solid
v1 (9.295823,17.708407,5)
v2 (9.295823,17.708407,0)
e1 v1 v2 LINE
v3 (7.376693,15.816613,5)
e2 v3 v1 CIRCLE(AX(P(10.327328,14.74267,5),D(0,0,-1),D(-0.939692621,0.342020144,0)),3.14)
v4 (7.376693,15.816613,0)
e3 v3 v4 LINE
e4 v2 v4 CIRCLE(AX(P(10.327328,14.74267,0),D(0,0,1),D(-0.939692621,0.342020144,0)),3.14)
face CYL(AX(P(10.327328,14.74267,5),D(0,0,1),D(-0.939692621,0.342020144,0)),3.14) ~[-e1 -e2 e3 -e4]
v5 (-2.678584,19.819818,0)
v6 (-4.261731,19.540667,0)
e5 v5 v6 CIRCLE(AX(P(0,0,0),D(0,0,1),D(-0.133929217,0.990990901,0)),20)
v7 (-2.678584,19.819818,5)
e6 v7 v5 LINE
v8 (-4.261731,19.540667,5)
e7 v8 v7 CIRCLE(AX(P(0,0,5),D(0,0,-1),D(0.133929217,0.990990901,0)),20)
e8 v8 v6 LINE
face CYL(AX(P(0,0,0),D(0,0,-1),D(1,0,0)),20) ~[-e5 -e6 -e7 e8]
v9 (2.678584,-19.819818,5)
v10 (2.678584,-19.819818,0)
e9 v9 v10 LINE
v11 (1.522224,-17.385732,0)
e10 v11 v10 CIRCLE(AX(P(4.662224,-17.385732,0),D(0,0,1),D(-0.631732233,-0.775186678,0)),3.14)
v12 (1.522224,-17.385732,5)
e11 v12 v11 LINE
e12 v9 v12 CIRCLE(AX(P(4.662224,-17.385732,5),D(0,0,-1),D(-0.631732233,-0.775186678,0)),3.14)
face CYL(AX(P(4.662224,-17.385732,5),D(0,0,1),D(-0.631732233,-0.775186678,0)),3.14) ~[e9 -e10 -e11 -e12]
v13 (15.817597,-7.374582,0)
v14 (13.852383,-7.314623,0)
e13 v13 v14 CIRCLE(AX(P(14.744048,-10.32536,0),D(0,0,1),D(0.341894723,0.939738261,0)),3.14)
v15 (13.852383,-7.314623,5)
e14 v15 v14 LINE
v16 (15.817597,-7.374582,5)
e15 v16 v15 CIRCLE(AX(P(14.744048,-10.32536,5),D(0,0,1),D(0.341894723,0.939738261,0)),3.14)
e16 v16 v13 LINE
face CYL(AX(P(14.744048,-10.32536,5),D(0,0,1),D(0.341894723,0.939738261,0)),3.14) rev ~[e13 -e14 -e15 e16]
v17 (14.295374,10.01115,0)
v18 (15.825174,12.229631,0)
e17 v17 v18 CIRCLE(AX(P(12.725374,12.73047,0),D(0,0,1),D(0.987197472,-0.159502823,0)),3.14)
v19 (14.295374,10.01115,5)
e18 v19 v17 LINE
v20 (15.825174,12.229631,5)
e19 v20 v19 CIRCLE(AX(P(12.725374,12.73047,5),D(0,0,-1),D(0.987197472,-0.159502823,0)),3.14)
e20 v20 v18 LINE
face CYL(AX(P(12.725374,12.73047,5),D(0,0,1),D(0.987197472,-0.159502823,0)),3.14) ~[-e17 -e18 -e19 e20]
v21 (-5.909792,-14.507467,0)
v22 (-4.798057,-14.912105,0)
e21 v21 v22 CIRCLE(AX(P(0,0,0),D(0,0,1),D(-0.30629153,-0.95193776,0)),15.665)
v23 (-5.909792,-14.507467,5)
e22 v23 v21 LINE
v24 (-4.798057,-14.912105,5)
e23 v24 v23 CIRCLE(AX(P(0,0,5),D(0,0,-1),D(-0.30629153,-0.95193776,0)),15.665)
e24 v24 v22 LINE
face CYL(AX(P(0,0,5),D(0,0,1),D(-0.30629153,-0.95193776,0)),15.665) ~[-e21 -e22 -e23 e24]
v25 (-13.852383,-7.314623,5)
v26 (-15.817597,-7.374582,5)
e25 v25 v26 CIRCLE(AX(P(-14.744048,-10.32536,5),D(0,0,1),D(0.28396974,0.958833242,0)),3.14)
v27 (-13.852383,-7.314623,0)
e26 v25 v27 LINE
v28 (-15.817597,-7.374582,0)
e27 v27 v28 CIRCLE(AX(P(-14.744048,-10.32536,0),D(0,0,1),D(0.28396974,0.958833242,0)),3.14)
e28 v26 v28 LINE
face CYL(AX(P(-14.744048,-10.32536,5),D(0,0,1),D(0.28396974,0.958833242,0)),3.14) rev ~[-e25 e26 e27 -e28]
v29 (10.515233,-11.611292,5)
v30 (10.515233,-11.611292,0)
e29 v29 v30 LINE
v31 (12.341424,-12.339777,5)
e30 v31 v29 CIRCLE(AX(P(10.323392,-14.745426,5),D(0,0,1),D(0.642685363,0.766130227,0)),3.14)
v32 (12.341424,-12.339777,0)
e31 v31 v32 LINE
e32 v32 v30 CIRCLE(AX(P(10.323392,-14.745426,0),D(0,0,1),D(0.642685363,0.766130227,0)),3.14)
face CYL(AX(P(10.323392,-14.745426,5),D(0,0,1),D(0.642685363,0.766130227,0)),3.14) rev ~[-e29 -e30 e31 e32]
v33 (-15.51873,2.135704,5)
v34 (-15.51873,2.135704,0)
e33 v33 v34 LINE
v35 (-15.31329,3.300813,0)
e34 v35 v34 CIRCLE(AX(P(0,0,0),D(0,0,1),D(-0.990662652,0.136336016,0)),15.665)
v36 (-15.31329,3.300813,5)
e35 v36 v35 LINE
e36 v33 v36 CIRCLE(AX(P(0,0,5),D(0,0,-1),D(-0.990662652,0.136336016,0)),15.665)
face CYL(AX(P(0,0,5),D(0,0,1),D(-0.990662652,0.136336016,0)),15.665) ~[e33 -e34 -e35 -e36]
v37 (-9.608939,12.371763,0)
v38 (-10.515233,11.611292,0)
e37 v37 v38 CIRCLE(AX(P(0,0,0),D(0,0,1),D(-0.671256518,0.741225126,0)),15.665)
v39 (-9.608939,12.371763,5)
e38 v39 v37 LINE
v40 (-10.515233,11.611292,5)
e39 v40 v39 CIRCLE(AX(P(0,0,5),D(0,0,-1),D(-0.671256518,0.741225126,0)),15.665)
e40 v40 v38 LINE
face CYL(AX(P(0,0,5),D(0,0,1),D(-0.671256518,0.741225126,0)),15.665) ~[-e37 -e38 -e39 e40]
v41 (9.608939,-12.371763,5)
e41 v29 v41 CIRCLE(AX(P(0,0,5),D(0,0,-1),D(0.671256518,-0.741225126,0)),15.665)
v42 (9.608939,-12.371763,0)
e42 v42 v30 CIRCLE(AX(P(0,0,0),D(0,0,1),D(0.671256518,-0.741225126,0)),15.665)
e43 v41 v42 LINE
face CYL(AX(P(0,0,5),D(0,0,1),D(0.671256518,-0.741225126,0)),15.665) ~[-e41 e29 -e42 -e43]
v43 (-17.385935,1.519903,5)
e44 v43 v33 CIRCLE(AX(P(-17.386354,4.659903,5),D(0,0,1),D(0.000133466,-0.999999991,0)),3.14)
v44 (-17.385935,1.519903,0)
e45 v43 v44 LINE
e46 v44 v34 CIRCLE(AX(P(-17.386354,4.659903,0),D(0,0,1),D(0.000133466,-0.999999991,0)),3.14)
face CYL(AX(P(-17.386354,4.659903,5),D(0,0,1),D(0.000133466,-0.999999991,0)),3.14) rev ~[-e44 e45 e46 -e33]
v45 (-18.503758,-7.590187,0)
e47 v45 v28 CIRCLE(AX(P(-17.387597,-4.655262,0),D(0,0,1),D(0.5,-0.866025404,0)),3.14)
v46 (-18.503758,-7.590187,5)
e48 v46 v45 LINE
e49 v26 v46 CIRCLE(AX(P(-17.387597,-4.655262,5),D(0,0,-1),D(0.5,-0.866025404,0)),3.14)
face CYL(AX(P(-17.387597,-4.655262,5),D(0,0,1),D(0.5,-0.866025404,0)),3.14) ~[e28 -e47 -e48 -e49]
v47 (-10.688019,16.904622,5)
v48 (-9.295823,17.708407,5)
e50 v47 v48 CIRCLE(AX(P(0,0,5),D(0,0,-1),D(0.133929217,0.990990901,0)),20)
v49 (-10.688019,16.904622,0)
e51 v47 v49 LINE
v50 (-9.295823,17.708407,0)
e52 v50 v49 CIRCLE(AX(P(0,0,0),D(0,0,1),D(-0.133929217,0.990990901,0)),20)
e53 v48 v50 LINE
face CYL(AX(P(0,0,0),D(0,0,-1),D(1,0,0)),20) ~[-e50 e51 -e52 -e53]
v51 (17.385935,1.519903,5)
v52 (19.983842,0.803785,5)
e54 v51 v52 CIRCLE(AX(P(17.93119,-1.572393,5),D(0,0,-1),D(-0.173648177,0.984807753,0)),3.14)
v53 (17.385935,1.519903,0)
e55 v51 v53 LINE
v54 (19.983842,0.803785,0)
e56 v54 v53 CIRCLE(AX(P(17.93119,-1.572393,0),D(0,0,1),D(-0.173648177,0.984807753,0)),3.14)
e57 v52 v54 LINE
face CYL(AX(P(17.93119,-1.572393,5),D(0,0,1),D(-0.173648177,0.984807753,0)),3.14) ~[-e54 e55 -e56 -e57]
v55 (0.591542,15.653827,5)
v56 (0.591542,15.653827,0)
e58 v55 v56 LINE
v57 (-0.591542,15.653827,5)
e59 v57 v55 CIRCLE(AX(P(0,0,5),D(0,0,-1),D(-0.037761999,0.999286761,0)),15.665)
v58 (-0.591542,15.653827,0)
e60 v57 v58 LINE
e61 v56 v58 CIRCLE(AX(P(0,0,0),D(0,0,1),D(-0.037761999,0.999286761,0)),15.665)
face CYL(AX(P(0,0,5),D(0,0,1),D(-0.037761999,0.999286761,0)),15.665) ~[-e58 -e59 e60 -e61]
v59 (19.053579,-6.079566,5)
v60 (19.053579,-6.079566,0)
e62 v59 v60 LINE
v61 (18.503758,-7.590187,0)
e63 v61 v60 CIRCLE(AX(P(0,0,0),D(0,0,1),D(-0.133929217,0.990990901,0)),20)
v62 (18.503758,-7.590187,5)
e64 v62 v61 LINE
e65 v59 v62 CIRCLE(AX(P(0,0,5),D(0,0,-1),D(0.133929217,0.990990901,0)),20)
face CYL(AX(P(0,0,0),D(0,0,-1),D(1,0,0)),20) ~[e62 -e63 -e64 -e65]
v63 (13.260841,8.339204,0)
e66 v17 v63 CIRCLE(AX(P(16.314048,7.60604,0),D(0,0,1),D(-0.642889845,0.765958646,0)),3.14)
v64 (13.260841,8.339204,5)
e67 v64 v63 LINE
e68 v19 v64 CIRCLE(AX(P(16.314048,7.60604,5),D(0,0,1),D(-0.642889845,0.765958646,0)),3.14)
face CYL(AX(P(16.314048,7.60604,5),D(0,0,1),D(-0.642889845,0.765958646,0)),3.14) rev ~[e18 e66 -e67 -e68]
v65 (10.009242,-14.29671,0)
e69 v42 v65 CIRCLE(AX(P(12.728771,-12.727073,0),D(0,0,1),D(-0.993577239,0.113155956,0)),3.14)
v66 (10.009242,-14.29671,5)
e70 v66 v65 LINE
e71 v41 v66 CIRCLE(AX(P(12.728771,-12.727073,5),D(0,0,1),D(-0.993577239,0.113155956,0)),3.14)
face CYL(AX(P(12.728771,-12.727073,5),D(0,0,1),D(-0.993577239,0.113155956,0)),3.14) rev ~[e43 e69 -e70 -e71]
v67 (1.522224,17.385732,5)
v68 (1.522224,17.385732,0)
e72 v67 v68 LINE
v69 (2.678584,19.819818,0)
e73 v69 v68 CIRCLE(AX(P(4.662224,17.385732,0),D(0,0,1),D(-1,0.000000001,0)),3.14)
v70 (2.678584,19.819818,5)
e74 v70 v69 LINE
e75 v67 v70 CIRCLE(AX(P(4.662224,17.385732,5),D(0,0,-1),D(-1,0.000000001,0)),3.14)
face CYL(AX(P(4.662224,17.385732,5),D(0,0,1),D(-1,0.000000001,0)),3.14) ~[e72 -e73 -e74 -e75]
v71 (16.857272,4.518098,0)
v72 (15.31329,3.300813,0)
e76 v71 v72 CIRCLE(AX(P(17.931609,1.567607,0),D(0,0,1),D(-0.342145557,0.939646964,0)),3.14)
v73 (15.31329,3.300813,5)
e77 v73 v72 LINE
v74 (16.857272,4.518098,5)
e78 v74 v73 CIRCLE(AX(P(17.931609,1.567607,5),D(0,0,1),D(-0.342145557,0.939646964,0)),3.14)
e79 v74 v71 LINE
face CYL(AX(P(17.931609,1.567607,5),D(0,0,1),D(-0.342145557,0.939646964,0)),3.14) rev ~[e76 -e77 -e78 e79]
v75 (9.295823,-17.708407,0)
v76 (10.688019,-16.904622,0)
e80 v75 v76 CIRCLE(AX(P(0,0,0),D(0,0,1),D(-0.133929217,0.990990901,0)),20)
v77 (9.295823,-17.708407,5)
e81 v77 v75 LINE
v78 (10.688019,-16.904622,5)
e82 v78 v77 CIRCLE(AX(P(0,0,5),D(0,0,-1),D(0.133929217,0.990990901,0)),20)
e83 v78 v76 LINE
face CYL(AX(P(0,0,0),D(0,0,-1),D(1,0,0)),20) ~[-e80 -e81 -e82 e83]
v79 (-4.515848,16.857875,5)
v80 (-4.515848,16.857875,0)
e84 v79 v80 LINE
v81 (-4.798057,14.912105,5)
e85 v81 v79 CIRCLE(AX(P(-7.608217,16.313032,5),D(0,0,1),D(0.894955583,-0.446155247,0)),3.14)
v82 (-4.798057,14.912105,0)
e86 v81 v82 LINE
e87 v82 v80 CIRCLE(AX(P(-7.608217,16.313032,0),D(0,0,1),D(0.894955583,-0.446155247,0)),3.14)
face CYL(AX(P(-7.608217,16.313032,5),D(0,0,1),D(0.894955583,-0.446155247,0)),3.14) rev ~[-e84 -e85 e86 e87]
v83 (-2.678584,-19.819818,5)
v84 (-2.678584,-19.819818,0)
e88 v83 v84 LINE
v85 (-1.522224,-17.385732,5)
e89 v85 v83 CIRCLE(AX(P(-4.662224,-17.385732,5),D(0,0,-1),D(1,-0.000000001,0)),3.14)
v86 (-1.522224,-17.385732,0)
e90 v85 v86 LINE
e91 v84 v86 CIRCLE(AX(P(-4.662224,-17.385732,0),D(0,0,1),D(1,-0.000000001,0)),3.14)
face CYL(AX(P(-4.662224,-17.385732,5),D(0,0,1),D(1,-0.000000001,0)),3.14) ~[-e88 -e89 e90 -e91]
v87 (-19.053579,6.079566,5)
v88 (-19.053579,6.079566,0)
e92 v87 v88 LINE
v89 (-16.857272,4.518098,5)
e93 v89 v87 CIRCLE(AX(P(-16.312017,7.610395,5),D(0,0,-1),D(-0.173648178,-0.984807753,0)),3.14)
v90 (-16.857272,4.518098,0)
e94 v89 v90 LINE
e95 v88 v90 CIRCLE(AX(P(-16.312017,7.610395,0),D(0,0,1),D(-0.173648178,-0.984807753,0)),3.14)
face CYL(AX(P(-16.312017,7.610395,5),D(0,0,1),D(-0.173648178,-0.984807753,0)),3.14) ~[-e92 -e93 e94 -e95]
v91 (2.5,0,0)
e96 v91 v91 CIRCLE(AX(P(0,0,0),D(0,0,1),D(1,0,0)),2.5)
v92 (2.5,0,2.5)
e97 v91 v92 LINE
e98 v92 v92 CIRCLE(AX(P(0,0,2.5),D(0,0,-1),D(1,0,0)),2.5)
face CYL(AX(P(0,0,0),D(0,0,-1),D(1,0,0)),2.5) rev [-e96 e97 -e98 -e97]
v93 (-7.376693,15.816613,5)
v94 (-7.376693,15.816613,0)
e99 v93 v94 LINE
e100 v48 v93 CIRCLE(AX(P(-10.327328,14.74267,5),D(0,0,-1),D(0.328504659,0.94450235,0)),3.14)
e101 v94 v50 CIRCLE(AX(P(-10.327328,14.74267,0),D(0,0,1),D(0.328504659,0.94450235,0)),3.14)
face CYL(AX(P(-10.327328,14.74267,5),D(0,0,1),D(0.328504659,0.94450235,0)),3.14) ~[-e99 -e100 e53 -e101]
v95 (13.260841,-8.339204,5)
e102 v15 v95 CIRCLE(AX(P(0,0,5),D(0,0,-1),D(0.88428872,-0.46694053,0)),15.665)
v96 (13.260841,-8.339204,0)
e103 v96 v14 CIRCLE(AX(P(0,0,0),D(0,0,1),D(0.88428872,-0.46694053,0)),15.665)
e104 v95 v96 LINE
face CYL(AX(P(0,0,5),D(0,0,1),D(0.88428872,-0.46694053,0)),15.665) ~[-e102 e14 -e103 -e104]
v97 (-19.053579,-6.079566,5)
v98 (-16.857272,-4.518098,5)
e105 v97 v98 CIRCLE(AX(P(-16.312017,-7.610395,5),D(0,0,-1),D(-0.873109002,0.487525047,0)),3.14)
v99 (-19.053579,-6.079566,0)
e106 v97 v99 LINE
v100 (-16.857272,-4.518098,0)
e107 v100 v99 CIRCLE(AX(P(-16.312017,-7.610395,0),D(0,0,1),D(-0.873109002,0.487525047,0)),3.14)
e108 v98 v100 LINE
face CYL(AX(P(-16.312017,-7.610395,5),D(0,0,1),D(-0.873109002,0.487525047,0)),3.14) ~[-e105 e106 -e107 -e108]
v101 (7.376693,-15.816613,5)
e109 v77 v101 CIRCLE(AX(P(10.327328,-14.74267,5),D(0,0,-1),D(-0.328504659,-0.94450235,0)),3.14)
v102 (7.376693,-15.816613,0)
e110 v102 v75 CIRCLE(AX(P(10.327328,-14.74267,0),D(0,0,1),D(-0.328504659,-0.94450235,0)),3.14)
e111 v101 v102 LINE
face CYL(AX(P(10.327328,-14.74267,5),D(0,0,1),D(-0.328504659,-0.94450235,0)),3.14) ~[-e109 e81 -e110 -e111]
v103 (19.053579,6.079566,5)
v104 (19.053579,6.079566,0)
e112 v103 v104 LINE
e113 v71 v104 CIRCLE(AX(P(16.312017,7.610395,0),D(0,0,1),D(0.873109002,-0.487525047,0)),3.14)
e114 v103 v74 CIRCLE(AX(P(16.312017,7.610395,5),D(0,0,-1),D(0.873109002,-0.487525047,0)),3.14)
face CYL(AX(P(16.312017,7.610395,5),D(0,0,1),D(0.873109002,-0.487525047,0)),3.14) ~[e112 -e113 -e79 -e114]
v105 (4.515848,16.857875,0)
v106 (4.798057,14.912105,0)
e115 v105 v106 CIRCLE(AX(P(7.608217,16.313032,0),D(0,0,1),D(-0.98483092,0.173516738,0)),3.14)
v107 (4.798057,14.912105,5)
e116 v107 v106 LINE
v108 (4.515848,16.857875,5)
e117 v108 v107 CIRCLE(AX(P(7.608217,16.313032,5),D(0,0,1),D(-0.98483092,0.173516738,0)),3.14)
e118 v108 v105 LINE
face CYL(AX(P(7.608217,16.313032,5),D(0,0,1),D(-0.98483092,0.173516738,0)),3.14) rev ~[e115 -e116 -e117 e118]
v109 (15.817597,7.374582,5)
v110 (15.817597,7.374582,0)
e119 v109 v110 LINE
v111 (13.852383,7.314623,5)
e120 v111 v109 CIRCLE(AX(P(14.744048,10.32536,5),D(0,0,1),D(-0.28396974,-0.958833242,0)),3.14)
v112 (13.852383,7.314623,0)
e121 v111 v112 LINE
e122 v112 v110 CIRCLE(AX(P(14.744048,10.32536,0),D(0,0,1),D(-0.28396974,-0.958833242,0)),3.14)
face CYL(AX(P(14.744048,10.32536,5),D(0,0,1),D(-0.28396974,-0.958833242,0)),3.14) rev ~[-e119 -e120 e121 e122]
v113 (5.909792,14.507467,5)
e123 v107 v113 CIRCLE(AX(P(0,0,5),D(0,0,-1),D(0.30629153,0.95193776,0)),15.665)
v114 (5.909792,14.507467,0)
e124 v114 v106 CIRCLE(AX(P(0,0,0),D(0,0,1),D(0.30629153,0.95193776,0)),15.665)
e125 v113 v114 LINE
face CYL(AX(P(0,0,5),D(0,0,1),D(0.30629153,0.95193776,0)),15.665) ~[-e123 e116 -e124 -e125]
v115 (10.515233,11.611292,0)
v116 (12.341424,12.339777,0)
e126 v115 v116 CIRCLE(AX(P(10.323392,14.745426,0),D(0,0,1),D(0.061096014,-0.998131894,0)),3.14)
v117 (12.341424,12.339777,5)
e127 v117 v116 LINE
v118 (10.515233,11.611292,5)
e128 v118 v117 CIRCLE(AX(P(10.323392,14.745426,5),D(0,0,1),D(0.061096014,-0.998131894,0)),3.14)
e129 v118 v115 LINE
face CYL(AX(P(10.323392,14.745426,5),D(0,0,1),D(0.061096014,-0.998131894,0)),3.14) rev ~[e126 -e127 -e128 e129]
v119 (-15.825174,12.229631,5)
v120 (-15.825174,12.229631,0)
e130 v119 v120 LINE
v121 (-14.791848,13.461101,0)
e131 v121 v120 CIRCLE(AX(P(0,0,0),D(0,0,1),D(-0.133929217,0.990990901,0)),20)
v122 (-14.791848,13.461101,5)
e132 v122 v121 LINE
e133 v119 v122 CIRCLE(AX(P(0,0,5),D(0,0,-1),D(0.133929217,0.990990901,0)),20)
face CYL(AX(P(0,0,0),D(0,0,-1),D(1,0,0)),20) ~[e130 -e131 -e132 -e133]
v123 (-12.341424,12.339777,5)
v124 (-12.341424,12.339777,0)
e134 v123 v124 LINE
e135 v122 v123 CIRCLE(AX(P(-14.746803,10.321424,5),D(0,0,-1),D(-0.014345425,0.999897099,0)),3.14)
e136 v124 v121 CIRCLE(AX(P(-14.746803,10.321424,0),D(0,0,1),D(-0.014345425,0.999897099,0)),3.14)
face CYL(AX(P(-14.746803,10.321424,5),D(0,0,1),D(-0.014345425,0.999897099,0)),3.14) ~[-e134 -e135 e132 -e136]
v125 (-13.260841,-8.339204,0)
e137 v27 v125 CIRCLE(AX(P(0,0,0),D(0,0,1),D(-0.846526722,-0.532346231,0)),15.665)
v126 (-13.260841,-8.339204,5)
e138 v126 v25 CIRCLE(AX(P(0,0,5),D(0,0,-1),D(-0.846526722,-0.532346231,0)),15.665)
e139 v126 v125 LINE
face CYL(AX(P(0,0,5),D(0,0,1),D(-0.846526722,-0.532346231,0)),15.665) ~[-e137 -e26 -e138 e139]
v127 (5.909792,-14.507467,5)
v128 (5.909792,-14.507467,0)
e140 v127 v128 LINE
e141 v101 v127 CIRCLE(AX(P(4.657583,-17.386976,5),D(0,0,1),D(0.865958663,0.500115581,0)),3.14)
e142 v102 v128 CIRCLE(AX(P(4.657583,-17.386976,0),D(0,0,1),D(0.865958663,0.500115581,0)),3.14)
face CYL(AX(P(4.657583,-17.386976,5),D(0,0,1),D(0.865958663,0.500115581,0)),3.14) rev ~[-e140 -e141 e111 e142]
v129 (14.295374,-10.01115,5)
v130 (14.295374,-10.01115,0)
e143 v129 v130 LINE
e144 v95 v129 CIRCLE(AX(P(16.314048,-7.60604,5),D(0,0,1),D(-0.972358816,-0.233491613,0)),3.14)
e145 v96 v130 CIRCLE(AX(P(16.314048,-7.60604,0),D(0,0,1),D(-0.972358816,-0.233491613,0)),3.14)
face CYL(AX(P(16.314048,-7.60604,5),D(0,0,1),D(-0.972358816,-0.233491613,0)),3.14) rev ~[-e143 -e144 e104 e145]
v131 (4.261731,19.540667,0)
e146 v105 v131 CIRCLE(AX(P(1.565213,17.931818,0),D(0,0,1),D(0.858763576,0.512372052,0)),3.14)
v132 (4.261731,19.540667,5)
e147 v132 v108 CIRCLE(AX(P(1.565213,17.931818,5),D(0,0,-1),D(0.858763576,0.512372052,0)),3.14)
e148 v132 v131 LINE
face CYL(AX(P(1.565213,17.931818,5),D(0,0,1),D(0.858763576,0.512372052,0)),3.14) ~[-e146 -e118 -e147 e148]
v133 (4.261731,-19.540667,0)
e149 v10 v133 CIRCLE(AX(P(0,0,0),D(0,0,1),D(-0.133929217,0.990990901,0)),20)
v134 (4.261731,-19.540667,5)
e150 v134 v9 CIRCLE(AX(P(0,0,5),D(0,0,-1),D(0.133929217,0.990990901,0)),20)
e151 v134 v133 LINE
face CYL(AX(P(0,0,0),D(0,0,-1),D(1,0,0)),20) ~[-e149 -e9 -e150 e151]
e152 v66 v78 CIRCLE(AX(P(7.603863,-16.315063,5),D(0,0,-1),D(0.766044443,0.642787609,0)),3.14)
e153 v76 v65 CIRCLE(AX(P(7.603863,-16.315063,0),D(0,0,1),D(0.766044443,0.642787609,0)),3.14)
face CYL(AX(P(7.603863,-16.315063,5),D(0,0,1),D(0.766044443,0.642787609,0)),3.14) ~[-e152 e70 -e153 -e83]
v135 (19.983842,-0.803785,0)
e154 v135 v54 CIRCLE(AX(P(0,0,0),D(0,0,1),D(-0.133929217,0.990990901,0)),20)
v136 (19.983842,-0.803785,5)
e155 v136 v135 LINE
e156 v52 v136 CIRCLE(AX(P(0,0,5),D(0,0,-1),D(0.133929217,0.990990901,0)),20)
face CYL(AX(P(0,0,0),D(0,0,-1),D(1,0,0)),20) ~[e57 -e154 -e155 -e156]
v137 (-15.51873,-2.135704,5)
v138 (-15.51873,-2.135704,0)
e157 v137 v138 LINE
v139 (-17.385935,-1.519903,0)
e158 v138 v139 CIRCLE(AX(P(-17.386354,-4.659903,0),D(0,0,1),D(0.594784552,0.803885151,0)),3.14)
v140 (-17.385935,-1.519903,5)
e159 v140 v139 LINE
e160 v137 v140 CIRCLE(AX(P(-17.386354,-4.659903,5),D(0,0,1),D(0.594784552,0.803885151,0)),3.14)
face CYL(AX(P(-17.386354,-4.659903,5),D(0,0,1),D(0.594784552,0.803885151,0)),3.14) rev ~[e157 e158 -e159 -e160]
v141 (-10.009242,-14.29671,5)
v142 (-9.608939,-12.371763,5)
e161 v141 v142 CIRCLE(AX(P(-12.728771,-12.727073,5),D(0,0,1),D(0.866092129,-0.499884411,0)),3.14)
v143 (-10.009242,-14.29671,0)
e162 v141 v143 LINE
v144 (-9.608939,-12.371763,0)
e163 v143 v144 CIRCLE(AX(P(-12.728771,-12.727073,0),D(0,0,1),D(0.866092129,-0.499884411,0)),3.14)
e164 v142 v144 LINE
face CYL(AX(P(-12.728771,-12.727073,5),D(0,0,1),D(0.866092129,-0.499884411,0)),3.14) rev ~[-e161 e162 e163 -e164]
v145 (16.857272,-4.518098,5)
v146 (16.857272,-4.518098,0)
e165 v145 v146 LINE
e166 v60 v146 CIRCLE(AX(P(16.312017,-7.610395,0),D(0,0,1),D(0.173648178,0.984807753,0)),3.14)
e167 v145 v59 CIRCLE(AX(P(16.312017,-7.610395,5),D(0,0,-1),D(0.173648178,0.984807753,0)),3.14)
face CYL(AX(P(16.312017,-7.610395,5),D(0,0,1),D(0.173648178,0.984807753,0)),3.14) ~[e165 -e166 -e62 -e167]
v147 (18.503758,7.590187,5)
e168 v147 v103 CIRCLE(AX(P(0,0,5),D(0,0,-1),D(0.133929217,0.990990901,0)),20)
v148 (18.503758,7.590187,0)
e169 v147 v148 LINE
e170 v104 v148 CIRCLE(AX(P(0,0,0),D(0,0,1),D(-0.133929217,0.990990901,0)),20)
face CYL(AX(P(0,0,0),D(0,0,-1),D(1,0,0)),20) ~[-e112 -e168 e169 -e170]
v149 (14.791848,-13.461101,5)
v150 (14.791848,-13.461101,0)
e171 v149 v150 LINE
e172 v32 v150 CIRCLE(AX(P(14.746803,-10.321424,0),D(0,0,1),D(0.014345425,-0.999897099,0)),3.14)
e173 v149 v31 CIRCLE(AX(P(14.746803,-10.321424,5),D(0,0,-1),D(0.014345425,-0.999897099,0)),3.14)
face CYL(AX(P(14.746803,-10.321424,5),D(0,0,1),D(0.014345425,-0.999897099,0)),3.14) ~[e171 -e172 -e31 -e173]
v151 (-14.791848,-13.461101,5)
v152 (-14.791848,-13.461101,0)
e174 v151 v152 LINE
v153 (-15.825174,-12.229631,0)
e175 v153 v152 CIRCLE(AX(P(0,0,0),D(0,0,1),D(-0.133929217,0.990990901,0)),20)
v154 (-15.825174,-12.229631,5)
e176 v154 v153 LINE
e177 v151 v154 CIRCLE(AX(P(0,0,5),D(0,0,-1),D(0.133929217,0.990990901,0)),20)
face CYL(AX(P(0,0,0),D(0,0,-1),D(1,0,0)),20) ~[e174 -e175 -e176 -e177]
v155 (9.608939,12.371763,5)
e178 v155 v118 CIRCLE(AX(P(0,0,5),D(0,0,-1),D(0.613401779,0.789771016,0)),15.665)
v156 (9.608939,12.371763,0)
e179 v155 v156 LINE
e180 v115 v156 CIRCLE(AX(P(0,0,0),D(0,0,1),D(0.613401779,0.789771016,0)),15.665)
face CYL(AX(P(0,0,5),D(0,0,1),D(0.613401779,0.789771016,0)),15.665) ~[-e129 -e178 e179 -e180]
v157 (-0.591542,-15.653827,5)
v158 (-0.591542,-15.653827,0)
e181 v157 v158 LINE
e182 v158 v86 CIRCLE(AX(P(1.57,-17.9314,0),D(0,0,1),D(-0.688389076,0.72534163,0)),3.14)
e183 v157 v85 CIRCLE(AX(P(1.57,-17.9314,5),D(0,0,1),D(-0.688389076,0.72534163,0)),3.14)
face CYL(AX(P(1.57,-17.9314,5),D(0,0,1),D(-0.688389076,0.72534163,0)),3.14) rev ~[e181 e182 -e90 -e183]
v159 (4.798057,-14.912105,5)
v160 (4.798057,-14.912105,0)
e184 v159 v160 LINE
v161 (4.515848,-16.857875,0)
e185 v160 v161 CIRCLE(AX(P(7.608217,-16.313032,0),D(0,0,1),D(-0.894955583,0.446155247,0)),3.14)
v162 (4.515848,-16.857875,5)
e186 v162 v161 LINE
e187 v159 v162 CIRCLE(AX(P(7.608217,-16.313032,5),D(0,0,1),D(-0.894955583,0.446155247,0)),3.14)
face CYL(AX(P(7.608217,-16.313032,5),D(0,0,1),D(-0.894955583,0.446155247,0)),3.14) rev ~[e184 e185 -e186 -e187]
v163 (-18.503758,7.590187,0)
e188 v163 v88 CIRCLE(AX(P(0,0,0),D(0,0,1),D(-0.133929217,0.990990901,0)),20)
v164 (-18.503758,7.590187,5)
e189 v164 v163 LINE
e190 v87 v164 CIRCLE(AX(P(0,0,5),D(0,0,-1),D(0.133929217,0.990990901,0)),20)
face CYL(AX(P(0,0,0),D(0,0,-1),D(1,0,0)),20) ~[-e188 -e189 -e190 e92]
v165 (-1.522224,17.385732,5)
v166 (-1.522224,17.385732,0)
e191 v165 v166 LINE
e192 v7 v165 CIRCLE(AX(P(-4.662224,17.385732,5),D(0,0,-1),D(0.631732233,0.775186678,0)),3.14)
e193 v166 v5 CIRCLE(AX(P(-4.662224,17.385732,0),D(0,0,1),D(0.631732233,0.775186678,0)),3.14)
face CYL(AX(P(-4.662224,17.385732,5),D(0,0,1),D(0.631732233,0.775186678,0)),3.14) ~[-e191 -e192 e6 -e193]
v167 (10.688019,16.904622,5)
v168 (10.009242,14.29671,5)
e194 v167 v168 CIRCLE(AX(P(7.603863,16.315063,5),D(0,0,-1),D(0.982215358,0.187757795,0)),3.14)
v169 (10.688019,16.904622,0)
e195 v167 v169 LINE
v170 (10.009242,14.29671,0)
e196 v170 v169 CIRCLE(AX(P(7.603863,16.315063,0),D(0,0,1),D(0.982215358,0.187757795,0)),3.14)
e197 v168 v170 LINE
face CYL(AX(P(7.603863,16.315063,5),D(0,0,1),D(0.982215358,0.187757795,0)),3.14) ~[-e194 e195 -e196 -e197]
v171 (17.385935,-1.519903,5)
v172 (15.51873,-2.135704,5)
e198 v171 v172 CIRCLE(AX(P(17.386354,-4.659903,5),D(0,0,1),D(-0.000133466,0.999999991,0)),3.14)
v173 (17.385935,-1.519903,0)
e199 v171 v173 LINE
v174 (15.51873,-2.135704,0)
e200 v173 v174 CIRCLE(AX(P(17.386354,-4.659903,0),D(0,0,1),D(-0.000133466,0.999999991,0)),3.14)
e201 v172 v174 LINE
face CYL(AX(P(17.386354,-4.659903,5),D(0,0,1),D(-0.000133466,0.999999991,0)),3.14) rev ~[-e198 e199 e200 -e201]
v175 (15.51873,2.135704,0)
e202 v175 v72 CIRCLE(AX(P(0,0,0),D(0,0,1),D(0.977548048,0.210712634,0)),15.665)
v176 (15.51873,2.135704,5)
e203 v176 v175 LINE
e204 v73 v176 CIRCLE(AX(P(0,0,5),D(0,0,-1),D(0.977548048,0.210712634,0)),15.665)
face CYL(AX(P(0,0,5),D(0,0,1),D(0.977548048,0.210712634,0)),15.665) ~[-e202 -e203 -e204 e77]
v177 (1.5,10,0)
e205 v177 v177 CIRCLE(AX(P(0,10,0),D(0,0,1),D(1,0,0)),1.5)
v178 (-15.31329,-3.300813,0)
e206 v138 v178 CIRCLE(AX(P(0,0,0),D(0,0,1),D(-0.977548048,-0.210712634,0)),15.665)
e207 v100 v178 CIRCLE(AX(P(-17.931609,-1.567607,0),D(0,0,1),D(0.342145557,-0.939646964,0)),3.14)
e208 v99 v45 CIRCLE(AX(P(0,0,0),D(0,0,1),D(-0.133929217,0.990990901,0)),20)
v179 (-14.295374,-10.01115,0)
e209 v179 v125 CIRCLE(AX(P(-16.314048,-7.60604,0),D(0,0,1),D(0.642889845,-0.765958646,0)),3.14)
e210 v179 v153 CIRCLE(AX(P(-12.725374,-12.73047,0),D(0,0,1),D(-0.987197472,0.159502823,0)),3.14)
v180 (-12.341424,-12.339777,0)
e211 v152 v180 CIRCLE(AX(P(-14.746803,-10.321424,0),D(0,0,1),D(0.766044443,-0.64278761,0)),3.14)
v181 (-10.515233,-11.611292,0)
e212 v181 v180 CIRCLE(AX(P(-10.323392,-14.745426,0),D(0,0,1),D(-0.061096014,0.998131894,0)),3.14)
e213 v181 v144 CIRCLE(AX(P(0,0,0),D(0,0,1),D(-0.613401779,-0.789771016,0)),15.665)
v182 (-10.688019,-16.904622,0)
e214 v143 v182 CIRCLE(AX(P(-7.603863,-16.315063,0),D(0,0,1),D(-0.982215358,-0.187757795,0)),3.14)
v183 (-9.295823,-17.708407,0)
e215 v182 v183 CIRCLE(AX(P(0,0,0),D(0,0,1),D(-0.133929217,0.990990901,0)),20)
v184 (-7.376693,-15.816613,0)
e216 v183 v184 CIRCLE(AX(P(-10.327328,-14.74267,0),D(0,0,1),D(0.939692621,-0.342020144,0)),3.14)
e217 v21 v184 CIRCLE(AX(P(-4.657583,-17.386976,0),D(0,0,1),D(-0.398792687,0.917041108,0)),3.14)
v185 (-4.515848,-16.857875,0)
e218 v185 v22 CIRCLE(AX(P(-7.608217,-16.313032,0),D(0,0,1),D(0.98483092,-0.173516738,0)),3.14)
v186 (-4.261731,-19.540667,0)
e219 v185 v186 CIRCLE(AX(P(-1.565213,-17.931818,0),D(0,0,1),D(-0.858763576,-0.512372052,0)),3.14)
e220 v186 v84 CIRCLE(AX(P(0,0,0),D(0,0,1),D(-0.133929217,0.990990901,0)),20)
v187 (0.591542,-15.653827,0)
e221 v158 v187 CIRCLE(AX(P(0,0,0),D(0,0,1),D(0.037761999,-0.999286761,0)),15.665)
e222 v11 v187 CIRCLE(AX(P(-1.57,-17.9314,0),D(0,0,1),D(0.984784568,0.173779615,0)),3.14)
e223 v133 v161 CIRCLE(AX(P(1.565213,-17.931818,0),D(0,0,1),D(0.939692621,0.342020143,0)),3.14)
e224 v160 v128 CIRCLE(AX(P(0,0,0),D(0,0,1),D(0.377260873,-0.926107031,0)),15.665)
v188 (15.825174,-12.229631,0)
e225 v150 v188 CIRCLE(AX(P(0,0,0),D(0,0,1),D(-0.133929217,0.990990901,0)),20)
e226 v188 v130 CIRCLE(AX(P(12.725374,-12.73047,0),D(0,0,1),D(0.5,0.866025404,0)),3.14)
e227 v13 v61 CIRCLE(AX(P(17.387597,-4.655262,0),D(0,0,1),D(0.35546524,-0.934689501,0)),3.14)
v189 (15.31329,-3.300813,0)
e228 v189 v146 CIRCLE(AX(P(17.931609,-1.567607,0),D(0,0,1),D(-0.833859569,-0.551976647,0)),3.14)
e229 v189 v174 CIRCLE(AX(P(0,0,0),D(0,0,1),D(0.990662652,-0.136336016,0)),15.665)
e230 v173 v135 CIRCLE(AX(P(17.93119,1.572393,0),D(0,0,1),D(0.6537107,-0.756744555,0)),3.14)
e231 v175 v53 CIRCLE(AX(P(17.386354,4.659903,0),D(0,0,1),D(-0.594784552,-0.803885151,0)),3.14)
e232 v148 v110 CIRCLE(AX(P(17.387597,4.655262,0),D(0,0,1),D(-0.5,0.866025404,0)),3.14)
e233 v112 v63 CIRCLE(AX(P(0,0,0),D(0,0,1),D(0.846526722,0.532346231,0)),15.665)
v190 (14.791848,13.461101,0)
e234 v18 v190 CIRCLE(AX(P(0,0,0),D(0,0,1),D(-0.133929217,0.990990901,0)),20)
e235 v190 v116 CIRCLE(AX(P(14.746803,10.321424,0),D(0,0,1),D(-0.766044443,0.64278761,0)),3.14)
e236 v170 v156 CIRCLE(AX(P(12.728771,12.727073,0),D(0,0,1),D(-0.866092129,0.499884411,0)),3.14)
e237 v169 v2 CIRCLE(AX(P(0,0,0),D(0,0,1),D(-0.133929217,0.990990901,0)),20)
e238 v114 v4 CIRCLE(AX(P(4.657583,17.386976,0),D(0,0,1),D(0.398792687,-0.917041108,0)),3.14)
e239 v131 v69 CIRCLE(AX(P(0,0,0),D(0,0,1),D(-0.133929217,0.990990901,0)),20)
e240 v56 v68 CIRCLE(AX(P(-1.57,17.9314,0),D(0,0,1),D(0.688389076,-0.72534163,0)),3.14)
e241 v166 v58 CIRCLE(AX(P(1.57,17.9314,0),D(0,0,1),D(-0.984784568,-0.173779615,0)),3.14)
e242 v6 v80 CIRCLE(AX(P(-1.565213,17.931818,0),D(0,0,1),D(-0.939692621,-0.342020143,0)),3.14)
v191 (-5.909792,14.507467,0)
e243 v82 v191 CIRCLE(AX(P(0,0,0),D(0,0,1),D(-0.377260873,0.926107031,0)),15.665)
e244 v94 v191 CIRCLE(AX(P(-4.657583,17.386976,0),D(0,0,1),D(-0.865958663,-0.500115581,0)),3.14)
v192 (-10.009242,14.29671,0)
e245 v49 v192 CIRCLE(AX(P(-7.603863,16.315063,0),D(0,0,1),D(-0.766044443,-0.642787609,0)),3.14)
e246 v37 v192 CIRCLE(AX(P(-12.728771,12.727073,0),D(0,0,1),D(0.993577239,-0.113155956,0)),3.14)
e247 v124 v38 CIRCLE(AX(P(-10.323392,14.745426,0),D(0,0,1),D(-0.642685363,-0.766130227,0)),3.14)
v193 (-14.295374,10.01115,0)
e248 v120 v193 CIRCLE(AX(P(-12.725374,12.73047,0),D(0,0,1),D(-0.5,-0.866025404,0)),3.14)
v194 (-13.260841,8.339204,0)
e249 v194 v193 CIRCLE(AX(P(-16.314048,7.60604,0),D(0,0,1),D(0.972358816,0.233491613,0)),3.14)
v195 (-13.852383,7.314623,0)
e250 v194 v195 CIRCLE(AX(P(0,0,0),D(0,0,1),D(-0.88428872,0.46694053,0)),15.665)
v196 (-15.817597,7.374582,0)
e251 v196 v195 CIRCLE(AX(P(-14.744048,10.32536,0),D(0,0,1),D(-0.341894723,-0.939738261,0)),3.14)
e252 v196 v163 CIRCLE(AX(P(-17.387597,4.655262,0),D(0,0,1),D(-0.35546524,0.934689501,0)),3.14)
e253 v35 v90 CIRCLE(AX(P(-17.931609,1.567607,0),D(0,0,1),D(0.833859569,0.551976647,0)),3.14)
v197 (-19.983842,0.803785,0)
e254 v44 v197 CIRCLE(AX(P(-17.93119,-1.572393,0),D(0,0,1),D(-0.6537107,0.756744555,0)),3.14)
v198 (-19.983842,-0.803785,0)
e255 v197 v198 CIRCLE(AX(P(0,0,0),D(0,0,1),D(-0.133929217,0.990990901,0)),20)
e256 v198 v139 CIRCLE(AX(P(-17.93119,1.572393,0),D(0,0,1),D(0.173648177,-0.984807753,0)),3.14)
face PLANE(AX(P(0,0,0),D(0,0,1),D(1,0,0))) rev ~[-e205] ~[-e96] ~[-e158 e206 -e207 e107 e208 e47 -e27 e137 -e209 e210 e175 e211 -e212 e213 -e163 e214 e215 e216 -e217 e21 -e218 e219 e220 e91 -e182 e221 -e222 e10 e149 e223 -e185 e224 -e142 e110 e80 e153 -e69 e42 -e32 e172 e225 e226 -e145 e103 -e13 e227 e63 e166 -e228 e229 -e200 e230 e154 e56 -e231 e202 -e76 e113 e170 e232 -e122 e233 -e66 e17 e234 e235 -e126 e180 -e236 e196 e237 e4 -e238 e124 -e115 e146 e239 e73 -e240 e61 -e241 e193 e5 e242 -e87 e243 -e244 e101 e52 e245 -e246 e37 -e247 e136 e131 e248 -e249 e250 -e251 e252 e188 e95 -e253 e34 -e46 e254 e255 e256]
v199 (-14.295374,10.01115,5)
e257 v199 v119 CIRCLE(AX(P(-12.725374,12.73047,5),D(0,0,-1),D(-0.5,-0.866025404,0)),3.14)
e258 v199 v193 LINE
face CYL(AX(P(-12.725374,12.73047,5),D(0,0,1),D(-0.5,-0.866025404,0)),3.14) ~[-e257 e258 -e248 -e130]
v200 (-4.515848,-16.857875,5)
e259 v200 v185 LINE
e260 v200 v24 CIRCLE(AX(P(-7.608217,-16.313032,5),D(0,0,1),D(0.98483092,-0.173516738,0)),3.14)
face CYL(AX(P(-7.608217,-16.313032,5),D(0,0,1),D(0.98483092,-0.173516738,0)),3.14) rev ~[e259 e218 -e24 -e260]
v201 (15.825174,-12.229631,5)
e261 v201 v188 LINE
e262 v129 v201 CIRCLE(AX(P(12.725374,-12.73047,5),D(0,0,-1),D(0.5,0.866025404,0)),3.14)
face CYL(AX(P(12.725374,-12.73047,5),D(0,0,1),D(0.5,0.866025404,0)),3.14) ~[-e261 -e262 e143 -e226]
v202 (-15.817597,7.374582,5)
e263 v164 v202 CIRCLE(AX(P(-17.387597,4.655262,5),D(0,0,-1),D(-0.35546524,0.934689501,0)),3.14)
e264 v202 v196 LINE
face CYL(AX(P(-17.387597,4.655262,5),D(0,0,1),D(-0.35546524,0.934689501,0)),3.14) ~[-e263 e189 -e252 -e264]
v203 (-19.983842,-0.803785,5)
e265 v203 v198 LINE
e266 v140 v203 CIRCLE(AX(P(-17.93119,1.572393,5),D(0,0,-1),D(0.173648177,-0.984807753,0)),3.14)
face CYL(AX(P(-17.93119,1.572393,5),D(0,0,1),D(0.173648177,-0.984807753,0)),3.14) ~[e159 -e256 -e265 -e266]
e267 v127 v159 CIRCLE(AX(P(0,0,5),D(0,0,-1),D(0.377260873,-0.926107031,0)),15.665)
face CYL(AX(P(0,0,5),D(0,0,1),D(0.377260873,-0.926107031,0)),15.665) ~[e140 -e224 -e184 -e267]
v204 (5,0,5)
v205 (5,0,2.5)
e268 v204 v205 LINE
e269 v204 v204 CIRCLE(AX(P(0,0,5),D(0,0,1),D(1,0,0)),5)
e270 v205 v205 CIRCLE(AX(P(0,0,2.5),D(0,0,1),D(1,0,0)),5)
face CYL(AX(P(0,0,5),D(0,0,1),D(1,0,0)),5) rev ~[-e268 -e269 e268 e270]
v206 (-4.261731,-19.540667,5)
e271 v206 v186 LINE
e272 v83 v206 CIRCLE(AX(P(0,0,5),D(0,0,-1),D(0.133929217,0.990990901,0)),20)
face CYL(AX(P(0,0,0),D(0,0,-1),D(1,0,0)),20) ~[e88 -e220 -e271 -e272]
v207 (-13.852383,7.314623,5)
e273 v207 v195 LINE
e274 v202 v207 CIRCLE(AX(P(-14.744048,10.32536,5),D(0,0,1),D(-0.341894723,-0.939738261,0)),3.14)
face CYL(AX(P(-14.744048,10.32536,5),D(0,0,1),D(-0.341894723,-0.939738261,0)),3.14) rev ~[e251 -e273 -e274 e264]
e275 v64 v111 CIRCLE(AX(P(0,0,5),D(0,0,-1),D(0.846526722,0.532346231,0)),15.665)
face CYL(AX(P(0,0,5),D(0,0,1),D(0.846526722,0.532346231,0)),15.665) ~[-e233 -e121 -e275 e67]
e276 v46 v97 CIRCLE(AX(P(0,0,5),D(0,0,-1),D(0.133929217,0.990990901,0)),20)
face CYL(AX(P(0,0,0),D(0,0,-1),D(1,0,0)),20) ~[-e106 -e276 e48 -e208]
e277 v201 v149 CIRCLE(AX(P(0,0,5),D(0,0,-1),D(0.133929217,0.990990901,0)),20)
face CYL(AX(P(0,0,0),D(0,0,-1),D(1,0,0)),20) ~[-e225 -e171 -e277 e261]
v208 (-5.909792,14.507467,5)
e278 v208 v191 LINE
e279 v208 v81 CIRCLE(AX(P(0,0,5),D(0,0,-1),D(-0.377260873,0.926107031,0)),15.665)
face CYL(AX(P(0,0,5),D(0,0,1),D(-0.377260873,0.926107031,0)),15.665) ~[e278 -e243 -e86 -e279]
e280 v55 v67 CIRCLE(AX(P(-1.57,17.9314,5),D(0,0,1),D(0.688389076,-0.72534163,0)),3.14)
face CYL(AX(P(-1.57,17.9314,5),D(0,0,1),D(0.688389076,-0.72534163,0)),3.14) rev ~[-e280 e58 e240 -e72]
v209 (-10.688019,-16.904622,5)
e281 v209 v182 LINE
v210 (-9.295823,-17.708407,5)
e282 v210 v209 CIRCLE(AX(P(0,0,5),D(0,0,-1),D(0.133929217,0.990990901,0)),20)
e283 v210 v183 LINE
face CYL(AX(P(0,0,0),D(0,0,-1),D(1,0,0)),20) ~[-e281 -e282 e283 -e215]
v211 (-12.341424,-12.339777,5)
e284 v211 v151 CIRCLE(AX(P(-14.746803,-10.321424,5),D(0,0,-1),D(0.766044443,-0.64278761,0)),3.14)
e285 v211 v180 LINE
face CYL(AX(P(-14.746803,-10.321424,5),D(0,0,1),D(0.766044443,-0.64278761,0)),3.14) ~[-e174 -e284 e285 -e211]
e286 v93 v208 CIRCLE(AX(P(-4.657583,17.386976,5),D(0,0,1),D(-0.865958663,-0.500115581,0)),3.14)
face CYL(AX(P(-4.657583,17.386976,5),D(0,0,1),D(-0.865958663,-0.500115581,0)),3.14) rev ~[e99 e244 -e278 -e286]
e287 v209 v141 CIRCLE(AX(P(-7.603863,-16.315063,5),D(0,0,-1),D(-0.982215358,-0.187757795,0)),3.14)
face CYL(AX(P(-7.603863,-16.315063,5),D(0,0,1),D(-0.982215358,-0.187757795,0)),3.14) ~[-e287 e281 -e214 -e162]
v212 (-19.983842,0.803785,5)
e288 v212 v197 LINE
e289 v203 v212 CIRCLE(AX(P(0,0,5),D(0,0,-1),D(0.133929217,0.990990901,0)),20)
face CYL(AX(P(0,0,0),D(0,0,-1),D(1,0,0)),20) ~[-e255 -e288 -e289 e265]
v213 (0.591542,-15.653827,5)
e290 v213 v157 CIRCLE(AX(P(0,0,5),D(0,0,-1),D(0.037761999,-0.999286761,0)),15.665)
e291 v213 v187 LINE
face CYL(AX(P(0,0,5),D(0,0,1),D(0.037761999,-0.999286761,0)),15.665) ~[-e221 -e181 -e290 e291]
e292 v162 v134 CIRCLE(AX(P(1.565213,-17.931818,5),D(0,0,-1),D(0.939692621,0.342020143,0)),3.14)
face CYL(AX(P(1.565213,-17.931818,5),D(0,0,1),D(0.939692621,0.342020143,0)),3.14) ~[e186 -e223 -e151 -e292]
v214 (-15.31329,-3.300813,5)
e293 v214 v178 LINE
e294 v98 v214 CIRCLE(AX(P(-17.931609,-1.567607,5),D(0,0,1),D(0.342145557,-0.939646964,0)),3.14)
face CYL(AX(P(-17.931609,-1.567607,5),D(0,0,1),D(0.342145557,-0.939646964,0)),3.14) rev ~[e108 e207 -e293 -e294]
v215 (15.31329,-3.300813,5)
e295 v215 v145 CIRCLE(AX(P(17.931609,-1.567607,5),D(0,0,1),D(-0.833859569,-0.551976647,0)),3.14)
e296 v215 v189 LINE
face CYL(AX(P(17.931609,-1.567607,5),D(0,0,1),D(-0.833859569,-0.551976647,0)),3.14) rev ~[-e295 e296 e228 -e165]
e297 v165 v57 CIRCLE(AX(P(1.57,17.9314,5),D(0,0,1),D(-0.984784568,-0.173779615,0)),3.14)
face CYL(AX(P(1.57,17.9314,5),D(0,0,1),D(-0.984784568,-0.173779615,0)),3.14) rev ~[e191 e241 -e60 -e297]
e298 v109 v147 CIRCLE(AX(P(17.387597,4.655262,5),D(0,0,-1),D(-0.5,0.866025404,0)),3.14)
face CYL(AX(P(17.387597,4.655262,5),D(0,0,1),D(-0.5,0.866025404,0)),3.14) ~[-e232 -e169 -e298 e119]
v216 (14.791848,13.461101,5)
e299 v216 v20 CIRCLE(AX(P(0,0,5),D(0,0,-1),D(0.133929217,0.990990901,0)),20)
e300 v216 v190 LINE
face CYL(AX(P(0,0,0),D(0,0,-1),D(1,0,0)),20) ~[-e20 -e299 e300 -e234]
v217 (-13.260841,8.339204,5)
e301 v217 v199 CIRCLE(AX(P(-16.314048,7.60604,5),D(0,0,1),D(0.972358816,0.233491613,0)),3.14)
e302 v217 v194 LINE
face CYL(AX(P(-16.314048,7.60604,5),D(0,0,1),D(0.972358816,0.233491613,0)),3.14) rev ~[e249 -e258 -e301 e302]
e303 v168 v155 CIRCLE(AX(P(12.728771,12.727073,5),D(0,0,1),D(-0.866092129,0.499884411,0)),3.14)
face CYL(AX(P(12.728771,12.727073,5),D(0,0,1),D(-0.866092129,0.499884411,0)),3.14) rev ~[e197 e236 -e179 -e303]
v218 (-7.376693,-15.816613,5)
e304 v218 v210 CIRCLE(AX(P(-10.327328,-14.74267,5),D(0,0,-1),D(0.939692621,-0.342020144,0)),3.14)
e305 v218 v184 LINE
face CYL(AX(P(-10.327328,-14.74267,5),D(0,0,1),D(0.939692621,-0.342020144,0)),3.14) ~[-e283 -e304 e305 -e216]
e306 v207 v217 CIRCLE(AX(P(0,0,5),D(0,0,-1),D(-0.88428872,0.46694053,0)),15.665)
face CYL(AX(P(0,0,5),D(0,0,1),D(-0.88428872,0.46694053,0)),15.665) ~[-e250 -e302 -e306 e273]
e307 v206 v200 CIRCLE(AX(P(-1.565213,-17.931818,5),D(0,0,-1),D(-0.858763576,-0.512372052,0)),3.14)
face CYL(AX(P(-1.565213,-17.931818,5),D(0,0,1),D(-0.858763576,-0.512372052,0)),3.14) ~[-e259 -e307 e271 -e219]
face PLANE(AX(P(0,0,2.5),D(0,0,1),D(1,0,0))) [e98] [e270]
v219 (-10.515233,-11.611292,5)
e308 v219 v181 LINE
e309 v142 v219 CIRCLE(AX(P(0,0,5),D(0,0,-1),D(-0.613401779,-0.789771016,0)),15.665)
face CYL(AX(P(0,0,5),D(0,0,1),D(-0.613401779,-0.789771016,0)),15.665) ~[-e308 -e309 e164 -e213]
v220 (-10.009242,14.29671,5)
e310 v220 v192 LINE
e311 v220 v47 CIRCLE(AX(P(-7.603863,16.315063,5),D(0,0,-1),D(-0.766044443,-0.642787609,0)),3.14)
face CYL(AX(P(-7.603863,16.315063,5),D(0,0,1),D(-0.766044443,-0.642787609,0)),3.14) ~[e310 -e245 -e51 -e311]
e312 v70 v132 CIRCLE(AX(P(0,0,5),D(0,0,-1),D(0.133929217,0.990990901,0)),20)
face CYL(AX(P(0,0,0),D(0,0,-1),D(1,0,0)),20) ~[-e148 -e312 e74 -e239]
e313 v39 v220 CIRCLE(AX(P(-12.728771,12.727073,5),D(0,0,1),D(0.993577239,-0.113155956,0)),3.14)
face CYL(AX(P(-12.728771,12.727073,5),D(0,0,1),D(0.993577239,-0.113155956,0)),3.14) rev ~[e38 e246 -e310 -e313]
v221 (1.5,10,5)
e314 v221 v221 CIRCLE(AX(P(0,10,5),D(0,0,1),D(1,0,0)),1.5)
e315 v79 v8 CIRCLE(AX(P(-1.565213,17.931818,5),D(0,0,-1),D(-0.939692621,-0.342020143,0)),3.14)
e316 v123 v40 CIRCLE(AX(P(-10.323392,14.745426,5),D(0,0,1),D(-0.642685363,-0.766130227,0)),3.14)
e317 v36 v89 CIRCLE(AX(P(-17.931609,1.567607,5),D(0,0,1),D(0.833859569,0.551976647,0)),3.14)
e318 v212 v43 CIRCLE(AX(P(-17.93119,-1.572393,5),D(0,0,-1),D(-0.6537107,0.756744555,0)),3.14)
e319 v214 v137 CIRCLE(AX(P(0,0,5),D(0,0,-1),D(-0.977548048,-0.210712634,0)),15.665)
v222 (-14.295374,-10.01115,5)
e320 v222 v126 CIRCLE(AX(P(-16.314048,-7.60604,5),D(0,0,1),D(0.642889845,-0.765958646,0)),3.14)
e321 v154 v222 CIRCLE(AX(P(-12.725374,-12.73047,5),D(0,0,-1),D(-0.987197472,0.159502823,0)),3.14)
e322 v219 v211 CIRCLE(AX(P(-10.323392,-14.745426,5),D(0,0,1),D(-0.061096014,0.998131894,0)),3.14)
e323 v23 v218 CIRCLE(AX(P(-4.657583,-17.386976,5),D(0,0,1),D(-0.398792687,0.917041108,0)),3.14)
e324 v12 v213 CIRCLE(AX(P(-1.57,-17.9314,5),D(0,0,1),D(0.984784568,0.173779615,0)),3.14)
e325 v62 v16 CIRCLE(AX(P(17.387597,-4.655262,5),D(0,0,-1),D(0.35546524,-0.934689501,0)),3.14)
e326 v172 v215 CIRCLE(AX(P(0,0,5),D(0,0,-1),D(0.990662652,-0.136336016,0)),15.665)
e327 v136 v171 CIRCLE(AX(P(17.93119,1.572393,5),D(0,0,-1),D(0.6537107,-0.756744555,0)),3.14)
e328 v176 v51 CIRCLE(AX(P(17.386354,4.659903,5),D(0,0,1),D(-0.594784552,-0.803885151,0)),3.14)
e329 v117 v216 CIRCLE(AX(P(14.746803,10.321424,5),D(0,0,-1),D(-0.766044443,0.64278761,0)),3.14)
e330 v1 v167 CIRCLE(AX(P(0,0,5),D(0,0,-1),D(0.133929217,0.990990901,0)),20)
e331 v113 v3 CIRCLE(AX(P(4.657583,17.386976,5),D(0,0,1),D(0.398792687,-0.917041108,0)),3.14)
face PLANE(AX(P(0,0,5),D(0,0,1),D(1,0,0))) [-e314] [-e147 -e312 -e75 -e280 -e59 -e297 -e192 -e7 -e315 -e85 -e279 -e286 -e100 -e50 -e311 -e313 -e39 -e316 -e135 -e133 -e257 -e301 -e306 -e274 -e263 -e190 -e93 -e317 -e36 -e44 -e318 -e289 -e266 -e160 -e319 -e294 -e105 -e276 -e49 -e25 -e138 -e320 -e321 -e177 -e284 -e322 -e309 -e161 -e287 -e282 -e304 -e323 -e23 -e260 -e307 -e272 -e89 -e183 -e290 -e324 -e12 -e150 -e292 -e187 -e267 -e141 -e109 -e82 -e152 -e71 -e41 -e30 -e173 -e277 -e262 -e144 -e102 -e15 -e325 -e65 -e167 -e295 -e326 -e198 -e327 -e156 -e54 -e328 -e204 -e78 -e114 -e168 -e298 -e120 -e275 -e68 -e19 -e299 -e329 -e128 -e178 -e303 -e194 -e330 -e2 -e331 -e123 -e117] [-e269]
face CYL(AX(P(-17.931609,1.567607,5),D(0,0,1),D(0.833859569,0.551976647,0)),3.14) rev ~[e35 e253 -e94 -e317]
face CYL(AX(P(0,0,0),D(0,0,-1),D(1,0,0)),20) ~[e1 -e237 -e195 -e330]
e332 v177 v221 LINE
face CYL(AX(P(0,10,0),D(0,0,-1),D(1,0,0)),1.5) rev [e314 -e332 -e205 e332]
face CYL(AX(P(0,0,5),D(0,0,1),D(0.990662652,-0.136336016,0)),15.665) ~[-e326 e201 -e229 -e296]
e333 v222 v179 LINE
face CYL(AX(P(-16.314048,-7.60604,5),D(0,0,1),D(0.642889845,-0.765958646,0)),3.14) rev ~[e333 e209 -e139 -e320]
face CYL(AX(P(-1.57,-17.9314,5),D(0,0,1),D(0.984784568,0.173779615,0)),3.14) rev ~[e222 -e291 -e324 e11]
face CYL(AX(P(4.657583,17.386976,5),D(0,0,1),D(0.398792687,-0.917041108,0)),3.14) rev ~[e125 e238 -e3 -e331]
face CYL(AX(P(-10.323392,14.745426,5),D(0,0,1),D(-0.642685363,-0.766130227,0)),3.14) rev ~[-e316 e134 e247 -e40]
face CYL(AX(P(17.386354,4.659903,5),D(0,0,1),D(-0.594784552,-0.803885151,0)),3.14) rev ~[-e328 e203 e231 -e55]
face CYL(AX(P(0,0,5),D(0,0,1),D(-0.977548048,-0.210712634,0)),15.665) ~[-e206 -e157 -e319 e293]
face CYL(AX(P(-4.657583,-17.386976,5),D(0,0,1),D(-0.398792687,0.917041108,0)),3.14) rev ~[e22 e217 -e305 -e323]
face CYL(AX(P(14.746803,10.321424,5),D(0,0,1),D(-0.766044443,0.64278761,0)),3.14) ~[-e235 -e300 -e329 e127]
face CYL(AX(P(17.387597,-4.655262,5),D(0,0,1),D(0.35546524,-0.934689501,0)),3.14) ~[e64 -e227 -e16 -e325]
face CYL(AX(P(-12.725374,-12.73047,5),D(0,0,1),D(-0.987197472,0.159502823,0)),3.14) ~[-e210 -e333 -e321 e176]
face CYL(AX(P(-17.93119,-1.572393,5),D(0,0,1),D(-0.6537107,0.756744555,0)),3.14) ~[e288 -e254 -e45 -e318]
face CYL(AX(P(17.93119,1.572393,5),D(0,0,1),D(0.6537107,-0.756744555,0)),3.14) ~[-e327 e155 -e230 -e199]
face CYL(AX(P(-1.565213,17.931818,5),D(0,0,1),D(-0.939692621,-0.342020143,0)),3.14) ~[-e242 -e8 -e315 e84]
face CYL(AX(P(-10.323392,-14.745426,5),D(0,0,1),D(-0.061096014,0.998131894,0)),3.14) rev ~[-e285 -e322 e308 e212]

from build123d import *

# Parameters (mm, degrees)
CROQUIS1_R              = 20
CROQUIS1_R_2            = 2.5
CROQUIS1_R_3            = 1.5
SALIENTE_EXTRUIR1_DEPTH = 5
CORTAR_EXTRUIR1_DEPTH   = 29.722813233
MATRIZC1_COUNT          = 18
CROQUIS3_R              = 5
CORTAR_EXTRUIR2_DEPTH   = 2.5


with BuildPart() as part:
    # Croquis1 → Saliente-Extruir1 (new body)
    with BuildSketch(Plane.XY):
        Circle(CROQUIS1_R)
        Circle(CROQUIS1_R_2, mode=Mode.SUBTRACT)
        with Locations((0, 10)):
            Circle(CROQUIS1_R_3, mode=Mode.SUBTRACT)
    extrude(amount=SALIENTE_EXTRUIR1_DEPTH)

    # Croquis2 → Cortar-Extruir1 (cut, through all)
    with BuildSketch(Plane.XY.offset(5)):
        with BuildLine():
            ThreePointArc((2.678584333, 19.819818011), (0, 20), (-2.678584333, 19.819818011))
            ThreePointArc((-2.678584333, 19.819818011), (-1.82600889, 18.733131722), (-1.522223543, 17.385731841))
            ThreePointArc((-1.522223543, 17.385731841), (-1.19593308, 16.445057276), (-0.5915417, 15.653827117))
            ThreePointArc((-0.5915417, 15.653827117), (0, 15.665), (0.5915417, 15.653827117))
            ThreePointArc((0.5915417, 15.653827117), (1.19593308, 16.445057276), (1.522223543, 17.385731841))
            ThreePointArc((1.522223543, 17.385731841), (1.82600889, 18.733131722), (2.678584333, 19.819818011))
        make_face()
    cortar_extruir1 = extrude(amount=-CORTAR_EXTRUIR1_DEPTH, mode=Mode.SUBTRACT)

    # MatrizC1: Cortar-Extruir1 ×18 about axis
    matrizc1_axis = Axis((0, 0, 0), (0, 0, 1))
    for i in range(1, MATRIZC1_COUNT):
        add(cortar_extruir1.rotate(matrizc1_axis, i * 360 / MATRIZC1_COUNT), mode=Mode.SUBTRACT)

    # Croquis3 → Cortar-Extruir2 (cut)
    with BuildSketch(Plane.XY.offset(5)):
        Circle(CROQUIS3_R)
    extrude(amount=-CORTAR_EXTRUIR2_DEPTH, mode=Mode.SUBTRACT)


solid = part.part
